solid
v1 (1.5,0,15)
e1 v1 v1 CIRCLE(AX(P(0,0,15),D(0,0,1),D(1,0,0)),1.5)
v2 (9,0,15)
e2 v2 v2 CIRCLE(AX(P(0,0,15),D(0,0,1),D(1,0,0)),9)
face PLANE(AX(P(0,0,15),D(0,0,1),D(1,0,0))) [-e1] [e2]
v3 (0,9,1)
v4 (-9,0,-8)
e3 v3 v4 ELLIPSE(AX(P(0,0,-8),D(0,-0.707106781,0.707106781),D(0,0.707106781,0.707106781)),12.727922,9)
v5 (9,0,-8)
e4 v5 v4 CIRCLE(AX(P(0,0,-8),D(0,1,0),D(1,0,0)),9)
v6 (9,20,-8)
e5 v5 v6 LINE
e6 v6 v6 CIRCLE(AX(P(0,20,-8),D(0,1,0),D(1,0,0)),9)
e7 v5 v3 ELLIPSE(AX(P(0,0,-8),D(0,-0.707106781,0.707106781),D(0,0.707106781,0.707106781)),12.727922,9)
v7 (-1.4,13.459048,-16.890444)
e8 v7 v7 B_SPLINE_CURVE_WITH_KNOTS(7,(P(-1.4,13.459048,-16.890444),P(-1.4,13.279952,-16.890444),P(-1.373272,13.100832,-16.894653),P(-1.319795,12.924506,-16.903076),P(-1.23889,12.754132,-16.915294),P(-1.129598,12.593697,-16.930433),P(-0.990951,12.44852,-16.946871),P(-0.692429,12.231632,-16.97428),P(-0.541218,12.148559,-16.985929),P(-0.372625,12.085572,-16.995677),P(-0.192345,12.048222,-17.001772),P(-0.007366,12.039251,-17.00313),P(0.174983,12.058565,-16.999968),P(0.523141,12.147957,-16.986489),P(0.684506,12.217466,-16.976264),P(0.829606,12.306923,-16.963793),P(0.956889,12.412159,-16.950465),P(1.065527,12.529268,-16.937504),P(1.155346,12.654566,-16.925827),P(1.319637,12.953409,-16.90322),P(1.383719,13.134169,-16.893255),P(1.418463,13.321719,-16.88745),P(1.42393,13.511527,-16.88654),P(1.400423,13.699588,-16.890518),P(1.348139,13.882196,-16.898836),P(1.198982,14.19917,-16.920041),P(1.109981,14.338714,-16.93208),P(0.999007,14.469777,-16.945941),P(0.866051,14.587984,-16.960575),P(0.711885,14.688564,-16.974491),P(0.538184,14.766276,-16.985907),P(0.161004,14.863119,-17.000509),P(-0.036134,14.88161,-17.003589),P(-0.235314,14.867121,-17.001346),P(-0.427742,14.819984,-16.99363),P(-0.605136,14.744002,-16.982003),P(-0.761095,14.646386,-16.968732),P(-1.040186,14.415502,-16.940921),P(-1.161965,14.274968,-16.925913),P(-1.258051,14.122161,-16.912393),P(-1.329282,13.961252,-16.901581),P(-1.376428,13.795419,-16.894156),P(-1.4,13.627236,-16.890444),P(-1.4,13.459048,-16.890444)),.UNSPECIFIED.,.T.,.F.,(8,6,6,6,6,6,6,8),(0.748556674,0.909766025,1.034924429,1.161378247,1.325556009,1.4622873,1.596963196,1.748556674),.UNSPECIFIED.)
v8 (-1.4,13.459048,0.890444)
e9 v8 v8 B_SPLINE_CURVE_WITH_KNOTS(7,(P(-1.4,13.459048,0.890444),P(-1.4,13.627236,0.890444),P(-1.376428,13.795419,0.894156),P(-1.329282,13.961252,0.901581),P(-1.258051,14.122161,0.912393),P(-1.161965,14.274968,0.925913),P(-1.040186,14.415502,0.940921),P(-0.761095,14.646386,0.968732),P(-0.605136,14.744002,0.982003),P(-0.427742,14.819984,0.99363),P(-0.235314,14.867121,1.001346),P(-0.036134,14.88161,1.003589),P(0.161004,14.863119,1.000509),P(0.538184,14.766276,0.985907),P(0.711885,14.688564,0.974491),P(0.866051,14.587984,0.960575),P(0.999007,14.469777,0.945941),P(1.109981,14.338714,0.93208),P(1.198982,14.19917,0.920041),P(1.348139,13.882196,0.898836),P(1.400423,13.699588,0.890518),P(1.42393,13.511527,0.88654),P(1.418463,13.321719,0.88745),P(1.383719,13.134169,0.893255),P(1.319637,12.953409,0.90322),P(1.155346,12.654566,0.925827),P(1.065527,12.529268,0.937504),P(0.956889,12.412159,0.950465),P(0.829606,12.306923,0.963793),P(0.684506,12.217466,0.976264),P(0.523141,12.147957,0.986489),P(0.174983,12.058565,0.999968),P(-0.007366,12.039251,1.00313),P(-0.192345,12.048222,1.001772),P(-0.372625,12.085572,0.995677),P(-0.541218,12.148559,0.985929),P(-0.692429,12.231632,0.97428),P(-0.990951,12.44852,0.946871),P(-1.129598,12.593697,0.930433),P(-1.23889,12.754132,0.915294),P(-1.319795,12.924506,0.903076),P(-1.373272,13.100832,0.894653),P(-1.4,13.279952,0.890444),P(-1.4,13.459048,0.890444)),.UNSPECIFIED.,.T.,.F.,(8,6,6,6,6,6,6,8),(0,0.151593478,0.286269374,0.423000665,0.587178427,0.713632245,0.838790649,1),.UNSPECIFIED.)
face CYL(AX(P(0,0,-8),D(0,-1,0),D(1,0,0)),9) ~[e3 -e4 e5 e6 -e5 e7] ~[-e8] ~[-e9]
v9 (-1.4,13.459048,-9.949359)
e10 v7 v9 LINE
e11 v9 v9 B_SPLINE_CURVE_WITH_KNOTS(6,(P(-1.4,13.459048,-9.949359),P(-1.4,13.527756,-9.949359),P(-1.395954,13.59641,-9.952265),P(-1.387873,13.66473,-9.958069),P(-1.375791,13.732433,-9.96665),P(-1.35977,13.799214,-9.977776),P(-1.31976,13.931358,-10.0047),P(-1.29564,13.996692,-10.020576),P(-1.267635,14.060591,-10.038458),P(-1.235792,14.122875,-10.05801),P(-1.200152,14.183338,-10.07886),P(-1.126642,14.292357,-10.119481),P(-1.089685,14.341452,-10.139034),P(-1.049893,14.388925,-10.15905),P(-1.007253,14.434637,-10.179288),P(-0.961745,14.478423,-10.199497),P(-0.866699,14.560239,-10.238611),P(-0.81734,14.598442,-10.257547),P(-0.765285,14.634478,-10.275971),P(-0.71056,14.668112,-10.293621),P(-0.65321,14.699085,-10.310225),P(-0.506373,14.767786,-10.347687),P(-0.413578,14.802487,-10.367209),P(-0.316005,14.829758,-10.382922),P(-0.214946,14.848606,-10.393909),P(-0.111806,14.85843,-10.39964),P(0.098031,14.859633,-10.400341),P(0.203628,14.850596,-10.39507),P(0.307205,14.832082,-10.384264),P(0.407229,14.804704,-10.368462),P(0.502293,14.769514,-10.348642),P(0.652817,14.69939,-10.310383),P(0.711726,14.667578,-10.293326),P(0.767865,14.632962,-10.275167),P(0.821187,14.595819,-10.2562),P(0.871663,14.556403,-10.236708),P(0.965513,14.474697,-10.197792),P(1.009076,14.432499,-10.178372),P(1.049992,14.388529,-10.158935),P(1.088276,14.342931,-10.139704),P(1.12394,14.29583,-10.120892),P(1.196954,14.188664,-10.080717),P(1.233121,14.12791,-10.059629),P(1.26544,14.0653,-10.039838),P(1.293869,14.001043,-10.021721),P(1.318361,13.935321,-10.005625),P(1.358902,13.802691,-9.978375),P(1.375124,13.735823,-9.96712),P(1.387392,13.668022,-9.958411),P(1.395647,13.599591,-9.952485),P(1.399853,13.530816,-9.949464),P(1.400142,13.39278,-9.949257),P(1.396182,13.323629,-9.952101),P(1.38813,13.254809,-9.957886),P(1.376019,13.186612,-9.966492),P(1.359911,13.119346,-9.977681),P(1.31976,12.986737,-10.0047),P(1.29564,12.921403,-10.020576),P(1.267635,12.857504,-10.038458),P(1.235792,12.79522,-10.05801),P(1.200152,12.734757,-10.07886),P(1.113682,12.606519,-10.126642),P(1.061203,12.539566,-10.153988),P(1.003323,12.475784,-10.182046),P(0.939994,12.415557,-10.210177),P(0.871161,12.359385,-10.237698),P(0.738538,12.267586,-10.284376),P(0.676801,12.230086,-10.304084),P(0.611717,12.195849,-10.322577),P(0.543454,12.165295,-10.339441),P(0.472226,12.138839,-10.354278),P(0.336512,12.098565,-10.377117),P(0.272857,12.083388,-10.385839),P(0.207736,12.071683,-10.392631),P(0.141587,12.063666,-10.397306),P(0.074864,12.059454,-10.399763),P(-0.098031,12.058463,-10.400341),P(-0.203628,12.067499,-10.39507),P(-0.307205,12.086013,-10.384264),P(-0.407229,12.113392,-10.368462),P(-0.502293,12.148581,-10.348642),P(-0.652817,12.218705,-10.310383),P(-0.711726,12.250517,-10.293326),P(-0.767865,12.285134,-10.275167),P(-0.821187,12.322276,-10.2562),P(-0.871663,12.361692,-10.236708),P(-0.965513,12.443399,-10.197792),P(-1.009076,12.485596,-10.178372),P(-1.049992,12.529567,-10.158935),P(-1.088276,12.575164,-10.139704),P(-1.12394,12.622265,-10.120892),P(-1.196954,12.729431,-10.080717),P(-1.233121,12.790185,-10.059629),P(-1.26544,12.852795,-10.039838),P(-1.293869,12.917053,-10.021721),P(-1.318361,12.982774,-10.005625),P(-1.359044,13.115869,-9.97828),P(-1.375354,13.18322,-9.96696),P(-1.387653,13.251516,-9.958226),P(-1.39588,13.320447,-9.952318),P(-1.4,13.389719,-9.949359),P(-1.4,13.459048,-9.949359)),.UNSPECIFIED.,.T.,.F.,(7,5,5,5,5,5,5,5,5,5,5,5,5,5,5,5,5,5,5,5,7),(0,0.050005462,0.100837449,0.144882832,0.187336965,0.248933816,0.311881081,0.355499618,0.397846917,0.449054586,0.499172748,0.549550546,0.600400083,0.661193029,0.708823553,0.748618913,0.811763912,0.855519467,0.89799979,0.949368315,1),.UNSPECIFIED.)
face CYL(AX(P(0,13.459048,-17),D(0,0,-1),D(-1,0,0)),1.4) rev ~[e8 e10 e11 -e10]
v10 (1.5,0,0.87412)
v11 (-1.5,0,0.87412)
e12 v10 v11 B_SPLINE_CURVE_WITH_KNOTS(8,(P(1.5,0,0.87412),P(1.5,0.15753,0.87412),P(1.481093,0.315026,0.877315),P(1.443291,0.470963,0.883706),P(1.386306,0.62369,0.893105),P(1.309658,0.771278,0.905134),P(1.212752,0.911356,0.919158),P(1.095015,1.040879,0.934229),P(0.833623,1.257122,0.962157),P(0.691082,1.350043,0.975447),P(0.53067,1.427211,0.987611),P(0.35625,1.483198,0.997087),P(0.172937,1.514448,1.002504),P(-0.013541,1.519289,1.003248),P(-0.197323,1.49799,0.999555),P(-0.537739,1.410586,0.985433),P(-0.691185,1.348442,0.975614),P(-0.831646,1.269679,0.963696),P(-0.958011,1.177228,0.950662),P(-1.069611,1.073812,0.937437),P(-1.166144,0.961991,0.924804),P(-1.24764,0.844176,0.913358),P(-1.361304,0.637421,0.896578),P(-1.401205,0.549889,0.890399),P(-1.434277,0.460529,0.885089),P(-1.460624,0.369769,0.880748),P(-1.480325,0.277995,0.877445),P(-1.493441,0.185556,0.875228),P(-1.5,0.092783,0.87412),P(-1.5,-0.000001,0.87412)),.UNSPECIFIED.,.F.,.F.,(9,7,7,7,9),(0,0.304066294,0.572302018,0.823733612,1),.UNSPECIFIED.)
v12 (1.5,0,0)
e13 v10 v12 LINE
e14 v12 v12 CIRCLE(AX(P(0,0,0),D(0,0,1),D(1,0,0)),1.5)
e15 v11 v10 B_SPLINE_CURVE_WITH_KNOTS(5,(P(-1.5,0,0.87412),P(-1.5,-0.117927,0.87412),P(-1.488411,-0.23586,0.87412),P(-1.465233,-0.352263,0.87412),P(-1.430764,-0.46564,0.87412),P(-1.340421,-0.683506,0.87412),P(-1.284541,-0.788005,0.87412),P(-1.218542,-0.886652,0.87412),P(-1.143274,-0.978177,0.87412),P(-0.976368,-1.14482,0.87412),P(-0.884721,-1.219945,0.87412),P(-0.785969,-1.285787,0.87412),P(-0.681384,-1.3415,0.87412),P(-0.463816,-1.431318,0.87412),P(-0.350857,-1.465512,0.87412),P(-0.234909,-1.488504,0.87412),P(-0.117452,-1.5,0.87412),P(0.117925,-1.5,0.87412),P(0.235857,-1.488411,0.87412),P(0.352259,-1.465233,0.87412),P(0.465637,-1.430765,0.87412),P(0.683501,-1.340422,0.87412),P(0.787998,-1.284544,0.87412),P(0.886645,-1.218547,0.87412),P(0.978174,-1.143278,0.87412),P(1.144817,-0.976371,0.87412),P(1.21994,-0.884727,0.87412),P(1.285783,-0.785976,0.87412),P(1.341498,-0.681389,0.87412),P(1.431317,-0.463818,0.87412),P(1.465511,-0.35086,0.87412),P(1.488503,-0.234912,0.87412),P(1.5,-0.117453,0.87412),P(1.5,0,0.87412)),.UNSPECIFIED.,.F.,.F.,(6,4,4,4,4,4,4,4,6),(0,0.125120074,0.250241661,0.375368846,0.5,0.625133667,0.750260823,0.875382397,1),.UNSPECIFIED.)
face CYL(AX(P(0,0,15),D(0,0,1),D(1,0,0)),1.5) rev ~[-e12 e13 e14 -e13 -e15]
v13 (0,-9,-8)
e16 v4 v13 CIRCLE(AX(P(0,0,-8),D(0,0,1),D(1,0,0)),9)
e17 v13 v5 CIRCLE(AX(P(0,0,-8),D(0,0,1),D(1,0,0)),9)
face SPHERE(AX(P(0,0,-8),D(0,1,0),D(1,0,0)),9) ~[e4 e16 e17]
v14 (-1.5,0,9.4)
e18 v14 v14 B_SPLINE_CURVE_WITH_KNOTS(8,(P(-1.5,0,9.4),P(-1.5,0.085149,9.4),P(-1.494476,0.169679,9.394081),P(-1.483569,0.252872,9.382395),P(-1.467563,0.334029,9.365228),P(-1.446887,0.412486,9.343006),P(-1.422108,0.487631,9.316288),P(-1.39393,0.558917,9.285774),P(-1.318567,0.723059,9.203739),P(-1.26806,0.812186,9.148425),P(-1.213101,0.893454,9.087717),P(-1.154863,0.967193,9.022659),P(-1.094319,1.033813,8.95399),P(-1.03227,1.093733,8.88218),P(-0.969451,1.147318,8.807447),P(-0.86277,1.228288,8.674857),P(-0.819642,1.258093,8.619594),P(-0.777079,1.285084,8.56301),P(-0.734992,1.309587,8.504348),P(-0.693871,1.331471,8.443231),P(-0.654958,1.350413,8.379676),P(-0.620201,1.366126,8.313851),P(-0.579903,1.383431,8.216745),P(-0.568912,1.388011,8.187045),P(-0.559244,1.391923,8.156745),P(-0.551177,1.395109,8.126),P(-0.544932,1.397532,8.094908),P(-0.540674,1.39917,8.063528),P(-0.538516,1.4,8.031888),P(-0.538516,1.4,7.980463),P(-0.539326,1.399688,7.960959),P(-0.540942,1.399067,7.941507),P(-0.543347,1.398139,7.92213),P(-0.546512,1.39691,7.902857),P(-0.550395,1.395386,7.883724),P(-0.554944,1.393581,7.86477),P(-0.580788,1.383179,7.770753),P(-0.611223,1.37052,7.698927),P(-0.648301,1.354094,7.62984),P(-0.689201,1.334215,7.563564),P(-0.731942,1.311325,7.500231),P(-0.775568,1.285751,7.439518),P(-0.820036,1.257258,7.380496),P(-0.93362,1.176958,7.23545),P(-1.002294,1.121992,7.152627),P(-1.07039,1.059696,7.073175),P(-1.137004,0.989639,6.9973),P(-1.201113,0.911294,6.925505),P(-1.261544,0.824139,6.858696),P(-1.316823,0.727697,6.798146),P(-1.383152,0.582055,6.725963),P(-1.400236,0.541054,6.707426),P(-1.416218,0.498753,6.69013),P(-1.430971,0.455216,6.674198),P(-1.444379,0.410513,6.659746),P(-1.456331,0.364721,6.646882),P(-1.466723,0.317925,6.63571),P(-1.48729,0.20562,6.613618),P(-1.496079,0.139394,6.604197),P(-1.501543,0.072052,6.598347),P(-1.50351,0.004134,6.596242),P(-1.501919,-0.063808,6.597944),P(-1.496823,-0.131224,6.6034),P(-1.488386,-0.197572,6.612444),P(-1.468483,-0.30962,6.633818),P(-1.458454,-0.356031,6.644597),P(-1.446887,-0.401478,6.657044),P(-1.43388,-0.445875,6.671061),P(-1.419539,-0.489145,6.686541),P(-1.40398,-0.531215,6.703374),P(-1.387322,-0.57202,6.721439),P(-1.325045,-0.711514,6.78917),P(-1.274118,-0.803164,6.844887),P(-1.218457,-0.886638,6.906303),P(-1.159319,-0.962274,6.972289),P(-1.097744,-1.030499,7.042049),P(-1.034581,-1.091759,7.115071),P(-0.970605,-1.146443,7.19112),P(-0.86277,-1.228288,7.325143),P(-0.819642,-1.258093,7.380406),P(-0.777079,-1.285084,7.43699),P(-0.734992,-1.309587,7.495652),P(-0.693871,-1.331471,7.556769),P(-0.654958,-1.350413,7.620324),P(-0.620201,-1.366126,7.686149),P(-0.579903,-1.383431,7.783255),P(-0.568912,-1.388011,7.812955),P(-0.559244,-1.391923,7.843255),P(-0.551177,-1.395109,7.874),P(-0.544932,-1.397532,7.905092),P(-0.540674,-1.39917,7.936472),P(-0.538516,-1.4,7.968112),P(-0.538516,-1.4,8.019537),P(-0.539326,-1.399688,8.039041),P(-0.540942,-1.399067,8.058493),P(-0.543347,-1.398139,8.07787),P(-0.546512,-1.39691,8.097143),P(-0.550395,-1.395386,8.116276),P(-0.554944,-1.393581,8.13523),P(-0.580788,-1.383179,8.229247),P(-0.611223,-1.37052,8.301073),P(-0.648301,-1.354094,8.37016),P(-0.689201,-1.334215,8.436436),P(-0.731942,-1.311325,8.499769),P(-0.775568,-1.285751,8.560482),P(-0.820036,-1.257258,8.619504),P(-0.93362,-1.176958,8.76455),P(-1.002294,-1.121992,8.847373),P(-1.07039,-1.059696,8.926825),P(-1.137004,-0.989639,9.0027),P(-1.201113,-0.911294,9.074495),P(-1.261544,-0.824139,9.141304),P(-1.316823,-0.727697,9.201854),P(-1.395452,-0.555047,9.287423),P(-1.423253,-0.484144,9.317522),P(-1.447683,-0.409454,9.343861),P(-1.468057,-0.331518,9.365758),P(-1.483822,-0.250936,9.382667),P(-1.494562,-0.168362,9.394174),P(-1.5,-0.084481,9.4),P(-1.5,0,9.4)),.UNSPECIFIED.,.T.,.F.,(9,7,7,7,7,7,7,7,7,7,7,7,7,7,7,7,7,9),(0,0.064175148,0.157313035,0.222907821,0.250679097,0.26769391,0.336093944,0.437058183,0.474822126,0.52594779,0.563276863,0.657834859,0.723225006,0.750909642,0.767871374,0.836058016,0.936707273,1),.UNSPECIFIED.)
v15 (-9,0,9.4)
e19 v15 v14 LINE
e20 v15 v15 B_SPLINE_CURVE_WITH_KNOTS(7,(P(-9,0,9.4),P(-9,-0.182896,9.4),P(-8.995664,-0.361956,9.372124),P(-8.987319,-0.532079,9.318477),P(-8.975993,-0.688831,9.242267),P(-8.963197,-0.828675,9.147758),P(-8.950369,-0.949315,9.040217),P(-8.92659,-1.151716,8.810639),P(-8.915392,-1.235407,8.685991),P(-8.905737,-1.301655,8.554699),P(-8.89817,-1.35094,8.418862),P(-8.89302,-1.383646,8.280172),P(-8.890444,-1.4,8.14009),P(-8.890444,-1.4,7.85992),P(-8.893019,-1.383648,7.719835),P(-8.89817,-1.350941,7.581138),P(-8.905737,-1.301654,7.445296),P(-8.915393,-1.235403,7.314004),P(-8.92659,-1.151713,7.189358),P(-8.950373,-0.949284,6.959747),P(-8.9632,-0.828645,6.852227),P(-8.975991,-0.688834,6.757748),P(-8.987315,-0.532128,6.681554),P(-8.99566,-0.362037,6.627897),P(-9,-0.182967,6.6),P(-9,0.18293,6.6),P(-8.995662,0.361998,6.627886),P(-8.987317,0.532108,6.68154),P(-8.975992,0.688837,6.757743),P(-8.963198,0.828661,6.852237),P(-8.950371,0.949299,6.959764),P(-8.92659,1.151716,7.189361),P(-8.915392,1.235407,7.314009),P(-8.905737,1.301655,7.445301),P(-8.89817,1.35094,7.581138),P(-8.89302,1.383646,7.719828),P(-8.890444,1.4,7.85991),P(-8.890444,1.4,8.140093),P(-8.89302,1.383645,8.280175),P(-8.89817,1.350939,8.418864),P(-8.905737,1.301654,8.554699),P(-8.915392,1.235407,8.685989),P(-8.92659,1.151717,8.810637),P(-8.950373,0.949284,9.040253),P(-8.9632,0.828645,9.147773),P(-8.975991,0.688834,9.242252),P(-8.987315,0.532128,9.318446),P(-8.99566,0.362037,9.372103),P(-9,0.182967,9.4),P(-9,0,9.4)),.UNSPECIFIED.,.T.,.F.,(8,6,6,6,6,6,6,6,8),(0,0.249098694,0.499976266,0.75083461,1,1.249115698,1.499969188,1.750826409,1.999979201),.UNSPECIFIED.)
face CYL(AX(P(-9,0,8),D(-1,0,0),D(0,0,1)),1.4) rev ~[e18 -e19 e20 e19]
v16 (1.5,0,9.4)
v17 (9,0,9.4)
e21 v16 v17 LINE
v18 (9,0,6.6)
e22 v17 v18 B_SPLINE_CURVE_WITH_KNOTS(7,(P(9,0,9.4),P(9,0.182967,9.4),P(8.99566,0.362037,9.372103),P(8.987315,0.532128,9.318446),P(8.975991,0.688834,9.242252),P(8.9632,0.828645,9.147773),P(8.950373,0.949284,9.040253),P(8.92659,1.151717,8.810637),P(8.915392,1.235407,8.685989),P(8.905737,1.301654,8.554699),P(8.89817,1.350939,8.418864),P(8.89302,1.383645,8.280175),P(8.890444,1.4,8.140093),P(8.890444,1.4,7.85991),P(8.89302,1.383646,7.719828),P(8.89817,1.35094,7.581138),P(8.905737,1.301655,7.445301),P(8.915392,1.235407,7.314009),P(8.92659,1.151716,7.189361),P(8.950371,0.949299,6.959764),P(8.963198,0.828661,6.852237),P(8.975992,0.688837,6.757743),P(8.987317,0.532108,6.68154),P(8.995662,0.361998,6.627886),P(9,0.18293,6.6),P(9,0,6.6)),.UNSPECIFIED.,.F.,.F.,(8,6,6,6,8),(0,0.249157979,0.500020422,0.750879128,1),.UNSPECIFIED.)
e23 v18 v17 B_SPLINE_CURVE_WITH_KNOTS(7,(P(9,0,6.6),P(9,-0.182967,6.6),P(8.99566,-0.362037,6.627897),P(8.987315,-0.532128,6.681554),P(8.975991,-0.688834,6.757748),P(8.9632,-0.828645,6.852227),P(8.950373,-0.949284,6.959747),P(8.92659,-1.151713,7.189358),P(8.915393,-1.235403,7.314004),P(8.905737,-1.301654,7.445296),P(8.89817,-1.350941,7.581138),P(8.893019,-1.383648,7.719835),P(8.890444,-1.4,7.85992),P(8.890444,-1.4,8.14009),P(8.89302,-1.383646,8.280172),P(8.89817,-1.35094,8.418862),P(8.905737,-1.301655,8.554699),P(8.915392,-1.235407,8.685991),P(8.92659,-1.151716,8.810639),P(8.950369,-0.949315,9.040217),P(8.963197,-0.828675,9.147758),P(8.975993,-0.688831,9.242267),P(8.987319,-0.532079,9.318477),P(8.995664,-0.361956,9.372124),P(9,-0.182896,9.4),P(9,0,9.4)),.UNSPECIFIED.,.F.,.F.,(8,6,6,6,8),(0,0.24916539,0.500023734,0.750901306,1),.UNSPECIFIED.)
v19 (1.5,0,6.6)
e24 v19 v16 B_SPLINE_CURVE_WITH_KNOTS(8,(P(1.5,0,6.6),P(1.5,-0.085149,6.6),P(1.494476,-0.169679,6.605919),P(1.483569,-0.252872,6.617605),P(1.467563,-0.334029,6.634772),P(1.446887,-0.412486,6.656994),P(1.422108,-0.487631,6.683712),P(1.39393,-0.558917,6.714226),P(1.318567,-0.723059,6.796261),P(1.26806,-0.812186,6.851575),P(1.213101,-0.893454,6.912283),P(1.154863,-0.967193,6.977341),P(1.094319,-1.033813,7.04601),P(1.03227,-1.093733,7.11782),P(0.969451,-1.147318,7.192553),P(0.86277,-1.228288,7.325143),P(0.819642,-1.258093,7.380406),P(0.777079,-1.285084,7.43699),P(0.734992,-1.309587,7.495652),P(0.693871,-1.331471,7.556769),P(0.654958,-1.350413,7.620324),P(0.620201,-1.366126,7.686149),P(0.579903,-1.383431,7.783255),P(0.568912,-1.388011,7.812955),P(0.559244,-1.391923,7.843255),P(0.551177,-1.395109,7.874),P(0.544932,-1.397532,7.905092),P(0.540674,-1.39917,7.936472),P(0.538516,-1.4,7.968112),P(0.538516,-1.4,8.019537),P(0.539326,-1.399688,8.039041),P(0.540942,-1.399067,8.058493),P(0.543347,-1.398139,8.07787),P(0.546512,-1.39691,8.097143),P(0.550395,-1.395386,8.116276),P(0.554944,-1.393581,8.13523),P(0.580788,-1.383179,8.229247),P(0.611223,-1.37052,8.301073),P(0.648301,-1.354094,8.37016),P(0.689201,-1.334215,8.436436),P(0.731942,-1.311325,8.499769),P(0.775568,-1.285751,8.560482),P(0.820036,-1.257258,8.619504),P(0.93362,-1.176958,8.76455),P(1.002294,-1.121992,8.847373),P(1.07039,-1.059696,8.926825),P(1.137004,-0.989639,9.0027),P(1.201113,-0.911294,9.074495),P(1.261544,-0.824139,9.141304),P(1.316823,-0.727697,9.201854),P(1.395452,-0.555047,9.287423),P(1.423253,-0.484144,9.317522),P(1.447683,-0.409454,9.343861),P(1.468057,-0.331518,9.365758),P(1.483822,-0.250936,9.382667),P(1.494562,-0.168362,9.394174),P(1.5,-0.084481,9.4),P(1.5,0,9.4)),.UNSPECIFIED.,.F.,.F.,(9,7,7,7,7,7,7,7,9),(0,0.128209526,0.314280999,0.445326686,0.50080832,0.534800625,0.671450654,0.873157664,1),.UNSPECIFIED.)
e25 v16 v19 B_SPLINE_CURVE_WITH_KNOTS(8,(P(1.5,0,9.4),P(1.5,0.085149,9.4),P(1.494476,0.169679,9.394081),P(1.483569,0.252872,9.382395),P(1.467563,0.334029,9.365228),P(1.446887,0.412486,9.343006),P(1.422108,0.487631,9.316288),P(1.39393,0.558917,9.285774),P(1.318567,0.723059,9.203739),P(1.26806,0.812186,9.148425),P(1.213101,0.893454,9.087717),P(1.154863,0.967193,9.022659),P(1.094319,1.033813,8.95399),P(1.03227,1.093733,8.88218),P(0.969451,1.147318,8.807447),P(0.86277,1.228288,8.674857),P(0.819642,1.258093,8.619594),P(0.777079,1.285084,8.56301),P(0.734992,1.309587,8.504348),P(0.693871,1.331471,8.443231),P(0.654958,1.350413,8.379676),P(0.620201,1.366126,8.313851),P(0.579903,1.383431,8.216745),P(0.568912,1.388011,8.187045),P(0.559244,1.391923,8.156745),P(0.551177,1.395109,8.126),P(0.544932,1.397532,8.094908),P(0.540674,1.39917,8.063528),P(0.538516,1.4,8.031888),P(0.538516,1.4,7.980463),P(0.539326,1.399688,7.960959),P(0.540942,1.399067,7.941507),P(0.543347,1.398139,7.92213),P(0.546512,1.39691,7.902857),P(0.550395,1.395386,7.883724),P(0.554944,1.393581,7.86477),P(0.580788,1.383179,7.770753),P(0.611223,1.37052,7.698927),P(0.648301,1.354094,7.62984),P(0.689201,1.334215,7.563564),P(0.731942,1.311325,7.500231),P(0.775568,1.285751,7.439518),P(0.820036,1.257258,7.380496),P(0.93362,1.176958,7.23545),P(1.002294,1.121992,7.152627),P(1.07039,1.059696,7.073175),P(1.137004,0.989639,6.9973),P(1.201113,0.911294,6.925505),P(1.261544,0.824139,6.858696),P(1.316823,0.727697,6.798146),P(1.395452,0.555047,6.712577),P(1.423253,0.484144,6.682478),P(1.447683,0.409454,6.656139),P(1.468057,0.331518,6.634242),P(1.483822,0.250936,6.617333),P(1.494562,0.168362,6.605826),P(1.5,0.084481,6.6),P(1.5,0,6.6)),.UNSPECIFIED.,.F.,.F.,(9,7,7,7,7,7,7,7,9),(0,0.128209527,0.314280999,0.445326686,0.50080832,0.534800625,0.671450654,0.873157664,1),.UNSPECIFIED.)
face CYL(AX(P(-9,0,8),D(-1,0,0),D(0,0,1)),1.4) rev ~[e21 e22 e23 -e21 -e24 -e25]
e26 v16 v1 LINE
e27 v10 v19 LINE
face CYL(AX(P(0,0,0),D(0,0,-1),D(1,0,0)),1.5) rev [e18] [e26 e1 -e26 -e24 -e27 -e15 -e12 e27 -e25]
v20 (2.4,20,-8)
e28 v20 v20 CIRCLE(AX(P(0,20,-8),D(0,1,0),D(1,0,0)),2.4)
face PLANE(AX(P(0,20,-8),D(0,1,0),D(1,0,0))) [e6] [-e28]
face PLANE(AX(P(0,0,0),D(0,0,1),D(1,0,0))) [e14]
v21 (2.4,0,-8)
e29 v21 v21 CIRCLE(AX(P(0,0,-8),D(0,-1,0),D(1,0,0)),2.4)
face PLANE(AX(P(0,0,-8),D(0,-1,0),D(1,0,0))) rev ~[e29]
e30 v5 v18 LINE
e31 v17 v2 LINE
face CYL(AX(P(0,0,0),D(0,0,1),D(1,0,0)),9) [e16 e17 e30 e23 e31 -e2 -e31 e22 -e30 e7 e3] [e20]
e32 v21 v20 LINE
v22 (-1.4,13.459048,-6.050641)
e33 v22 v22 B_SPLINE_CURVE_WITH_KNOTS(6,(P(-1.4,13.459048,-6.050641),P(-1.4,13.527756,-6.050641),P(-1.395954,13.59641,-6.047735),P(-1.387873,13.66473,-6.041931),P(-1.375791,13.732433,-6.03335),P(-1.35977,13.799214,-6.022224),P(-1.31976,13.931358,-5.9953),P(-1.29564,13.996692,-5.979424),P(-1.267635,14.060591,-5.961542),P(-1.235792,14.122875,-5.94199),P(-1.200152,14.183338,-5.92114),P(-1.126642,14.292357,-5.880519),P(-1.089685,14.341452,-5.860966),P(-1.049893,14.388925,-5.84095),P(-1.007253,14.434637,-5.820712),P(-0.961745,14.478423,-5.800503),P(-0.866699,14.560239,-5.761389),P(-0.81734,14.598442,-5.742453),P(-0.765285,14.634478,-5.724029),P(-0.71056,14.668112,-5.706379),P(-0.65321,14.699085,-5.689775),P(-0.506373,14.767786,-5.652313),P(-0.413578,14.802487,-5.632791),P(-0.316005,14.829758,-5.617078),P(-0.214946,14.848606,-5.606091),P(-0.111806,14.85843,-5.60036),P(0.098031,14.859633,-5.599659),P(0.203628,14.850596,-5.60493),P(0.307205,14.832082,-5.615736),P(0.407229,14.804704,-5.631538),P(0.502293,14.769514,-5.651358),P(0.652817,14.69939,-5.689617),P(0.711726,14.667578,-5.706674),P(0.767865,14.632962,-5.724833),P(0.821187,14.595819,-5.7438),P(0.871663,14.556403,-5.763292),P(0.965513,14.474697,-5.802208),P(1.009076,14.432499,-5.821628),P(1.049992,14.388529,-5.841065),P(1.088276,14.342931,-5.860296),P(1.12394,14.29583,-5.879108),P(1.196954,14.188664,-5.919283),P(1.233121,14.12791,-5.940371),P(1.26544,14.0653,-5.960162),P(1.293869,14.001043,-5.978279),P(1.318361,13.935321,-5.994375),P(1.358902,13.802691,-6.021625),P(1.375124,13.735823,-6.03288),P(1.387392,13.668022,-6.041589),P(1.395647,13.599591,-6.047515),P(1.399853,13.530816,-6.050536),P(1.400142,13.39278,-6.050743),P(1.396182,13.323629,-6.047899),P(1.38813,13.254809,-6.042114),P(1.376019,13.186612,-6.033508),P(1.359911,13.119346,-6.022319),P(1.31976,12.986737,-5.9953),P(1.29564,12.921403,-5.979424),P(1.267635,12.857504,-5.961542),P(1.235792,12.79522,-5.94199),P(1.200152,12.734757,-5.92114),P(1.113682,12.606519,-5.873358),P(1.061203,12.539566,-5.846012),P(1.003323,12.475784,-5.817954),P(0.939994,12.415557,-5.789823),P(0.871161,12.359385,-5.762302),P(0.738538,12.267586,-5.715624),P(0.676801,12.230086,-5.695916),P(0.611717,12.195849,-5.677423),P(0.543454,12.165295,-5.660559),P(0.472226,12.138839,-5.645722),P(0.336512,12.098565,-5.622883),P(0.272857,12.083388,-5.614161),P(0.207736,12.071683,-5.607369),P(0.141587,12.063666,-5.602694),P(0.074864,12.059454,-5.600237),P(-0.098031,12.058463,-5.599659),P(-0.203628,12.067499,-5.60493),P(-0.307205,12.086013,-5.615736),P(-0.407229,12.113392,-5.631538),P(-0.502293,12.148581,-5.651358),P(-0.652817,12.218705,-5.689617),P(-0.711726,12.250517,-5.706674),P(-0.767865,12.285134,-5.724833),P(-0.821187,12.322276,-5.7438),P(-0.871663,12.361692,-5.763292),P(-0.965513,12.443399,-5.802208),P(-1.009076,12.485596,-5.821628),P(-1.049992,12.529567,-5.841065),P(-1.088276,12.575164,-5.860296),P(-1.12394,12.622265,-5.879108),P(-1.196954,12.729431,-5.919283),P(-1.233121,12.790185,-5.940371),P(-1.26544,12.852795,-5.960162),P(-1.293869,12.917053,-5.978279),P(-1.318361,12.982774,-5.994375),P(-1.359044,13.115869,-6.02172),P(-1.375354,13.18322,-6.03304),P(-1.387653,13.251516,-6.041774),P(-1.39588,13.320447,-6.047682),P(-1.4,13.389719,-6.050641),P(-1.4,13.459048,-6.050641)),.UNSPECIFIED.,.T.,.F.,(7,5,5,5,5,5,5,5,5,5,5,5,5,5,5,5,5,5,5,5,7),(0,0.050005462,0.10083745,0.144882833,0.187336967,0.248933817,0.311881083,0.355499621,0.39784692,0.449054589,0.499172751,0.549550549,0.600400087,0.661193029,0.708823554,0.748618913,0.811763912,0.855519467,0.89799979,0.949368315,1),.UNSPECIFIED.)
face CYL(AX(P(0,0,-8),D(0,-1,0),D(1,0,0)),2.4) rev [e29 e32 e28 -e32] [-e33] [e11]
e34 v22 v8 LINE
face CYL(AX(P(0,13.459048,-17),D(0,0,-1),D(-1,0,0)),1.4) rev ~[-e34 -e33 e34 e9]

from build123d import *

# Parameters (mm, degrees)
CROQUIS1_R                   = 9
CROQUIS1_R_2                 = 1.5
SALIENTE_EXTRUIR1_DEPTH      = 15
SALIENTE_EXTRUIR1_DEPTH_BACK = 8
CROQUIS2_R                   = 9
CROQUIS2_R_2                 = 2.4
SALIENTE_EXTRUIR4_DEPTH      = 20
CROQUIS7_R                   = 2.4
CORTAR_EXTRUIR1_DEPTH        = 20
CROQUIS8_R                   = 1.5
CORTAR_EXTRUIR2_DEPTH        = 15
CROQUIS9_R                   = 1.4
CORTAR_EXTRUIR3_DEPTH        = 19
CROQUIS10_R                  = 1.4
CORTAR_EXTRUIR4_DEPTH        = 1
CORTAR_EXTRUIR4_DEPTH_BACK   = 33.0000001


with BuildPart() as part:
    # Croquis1 → Saliente-Extruir1 (new body, two sides)
    with BuildSketch(Plane.XY) as saliente_extruir1_sk:
        Circle(CROQUIS1_R)
        Circle(CROQUIS1_R_2, mode=Mode.SUBTRACT)
    extrude(amount=SALIENTE_EXTRUIR1_DEPTH)
    extrude(saliente_extruir1_sk.sketch, amount=-SALIENTE_EXTRUIR1_DEPTH_BACK)

    # Croquis2 → Saliente-Extruir4 (add)
    with BuildSketch(Plane(origin=(0, 0, 0), x_dir=(1, 0, 0), z_dir=(0, 1, 0))):
        with Locations((0, 8)):
            Circle(CROQUIS2_R)
        with Locations((0, 8)):
            Circle(CROQUIS2_R_2, mode=Mode.SUBTRACT)
    extrude(amount=SALIENTE_EXTRUIR4_DEPTH)

    # Croquis6 → Revolución4 (revolve)
    with BuildSketch(Plane(origin=(0, 0, -8), x_dir=(-1, 0, 0), z_dir=(0, 0, -1))):
        with BuildLine():
            Line((0, 0), (0, -9))
            ThreePointArc((0, -9), (-6.363961031, -6.363961031), (-9, 0))
            Line((-9, 0), (0, 0))
        make_face()
    revolve(axis=Axis((0, 0, -8), (0, -1, 0)))

    # Croquis7 → Cortar-Extruir1 (cut)
    with BuildSketch(Plane(origin=(0, 20, 0), x_dir=(1, 0, 0), z_dir=(0, 1, 0))):
        with Locations((0, 8)):
            Circle(CROQUIS7_R)
    extrude(amount=-CORTAR_EXTRUIR1_DEPTH, mode=Mode.SUBTRACT)

    # Croquis8 → Cortar-Extruir2 (cut)
    with BuildSketch(Plane.XY.offset(15)):
        Circle(CROQUIS8_R)
    extrude(amount=-CORTAR_EXTRUIR2_DEPTH, mode=Mode.SUBTRACT)

    # Croquis9 → Cortar-Extruir3 (cut, through all)
    with BuildSketch(Plane.ZY.offset(9)):
        with Locations((8, 0)):
            Circle(CROQUIS9_R)
    extrude(amount=-CORTAR_EXTRUIR3_DEPTH, mode=Mode.SUBTRACT)

    # Croquis10 → Cortar-Extruir4 (cut, two sides)
    with BuildSketch(Plane(origin=(0, 0, -17), x_dir=(-1, 0, 0), z_dir=(0, 0, -1))) as cortar_extruir4_sk:
        with Locations((0, 13.459047629)):
            Circle(CROQUIS10_R)
    extrude(amount=CORTAR_EXTRUIR4_DEPTH, mode=Mode.SUBTRACT)
    extrude(cortar_extruir4_sk.sketch, amount=-CORTAR_EXTRUIR4_DEPTH_BACK, mode=Mode.SUBTRACT)


solid = part.part
